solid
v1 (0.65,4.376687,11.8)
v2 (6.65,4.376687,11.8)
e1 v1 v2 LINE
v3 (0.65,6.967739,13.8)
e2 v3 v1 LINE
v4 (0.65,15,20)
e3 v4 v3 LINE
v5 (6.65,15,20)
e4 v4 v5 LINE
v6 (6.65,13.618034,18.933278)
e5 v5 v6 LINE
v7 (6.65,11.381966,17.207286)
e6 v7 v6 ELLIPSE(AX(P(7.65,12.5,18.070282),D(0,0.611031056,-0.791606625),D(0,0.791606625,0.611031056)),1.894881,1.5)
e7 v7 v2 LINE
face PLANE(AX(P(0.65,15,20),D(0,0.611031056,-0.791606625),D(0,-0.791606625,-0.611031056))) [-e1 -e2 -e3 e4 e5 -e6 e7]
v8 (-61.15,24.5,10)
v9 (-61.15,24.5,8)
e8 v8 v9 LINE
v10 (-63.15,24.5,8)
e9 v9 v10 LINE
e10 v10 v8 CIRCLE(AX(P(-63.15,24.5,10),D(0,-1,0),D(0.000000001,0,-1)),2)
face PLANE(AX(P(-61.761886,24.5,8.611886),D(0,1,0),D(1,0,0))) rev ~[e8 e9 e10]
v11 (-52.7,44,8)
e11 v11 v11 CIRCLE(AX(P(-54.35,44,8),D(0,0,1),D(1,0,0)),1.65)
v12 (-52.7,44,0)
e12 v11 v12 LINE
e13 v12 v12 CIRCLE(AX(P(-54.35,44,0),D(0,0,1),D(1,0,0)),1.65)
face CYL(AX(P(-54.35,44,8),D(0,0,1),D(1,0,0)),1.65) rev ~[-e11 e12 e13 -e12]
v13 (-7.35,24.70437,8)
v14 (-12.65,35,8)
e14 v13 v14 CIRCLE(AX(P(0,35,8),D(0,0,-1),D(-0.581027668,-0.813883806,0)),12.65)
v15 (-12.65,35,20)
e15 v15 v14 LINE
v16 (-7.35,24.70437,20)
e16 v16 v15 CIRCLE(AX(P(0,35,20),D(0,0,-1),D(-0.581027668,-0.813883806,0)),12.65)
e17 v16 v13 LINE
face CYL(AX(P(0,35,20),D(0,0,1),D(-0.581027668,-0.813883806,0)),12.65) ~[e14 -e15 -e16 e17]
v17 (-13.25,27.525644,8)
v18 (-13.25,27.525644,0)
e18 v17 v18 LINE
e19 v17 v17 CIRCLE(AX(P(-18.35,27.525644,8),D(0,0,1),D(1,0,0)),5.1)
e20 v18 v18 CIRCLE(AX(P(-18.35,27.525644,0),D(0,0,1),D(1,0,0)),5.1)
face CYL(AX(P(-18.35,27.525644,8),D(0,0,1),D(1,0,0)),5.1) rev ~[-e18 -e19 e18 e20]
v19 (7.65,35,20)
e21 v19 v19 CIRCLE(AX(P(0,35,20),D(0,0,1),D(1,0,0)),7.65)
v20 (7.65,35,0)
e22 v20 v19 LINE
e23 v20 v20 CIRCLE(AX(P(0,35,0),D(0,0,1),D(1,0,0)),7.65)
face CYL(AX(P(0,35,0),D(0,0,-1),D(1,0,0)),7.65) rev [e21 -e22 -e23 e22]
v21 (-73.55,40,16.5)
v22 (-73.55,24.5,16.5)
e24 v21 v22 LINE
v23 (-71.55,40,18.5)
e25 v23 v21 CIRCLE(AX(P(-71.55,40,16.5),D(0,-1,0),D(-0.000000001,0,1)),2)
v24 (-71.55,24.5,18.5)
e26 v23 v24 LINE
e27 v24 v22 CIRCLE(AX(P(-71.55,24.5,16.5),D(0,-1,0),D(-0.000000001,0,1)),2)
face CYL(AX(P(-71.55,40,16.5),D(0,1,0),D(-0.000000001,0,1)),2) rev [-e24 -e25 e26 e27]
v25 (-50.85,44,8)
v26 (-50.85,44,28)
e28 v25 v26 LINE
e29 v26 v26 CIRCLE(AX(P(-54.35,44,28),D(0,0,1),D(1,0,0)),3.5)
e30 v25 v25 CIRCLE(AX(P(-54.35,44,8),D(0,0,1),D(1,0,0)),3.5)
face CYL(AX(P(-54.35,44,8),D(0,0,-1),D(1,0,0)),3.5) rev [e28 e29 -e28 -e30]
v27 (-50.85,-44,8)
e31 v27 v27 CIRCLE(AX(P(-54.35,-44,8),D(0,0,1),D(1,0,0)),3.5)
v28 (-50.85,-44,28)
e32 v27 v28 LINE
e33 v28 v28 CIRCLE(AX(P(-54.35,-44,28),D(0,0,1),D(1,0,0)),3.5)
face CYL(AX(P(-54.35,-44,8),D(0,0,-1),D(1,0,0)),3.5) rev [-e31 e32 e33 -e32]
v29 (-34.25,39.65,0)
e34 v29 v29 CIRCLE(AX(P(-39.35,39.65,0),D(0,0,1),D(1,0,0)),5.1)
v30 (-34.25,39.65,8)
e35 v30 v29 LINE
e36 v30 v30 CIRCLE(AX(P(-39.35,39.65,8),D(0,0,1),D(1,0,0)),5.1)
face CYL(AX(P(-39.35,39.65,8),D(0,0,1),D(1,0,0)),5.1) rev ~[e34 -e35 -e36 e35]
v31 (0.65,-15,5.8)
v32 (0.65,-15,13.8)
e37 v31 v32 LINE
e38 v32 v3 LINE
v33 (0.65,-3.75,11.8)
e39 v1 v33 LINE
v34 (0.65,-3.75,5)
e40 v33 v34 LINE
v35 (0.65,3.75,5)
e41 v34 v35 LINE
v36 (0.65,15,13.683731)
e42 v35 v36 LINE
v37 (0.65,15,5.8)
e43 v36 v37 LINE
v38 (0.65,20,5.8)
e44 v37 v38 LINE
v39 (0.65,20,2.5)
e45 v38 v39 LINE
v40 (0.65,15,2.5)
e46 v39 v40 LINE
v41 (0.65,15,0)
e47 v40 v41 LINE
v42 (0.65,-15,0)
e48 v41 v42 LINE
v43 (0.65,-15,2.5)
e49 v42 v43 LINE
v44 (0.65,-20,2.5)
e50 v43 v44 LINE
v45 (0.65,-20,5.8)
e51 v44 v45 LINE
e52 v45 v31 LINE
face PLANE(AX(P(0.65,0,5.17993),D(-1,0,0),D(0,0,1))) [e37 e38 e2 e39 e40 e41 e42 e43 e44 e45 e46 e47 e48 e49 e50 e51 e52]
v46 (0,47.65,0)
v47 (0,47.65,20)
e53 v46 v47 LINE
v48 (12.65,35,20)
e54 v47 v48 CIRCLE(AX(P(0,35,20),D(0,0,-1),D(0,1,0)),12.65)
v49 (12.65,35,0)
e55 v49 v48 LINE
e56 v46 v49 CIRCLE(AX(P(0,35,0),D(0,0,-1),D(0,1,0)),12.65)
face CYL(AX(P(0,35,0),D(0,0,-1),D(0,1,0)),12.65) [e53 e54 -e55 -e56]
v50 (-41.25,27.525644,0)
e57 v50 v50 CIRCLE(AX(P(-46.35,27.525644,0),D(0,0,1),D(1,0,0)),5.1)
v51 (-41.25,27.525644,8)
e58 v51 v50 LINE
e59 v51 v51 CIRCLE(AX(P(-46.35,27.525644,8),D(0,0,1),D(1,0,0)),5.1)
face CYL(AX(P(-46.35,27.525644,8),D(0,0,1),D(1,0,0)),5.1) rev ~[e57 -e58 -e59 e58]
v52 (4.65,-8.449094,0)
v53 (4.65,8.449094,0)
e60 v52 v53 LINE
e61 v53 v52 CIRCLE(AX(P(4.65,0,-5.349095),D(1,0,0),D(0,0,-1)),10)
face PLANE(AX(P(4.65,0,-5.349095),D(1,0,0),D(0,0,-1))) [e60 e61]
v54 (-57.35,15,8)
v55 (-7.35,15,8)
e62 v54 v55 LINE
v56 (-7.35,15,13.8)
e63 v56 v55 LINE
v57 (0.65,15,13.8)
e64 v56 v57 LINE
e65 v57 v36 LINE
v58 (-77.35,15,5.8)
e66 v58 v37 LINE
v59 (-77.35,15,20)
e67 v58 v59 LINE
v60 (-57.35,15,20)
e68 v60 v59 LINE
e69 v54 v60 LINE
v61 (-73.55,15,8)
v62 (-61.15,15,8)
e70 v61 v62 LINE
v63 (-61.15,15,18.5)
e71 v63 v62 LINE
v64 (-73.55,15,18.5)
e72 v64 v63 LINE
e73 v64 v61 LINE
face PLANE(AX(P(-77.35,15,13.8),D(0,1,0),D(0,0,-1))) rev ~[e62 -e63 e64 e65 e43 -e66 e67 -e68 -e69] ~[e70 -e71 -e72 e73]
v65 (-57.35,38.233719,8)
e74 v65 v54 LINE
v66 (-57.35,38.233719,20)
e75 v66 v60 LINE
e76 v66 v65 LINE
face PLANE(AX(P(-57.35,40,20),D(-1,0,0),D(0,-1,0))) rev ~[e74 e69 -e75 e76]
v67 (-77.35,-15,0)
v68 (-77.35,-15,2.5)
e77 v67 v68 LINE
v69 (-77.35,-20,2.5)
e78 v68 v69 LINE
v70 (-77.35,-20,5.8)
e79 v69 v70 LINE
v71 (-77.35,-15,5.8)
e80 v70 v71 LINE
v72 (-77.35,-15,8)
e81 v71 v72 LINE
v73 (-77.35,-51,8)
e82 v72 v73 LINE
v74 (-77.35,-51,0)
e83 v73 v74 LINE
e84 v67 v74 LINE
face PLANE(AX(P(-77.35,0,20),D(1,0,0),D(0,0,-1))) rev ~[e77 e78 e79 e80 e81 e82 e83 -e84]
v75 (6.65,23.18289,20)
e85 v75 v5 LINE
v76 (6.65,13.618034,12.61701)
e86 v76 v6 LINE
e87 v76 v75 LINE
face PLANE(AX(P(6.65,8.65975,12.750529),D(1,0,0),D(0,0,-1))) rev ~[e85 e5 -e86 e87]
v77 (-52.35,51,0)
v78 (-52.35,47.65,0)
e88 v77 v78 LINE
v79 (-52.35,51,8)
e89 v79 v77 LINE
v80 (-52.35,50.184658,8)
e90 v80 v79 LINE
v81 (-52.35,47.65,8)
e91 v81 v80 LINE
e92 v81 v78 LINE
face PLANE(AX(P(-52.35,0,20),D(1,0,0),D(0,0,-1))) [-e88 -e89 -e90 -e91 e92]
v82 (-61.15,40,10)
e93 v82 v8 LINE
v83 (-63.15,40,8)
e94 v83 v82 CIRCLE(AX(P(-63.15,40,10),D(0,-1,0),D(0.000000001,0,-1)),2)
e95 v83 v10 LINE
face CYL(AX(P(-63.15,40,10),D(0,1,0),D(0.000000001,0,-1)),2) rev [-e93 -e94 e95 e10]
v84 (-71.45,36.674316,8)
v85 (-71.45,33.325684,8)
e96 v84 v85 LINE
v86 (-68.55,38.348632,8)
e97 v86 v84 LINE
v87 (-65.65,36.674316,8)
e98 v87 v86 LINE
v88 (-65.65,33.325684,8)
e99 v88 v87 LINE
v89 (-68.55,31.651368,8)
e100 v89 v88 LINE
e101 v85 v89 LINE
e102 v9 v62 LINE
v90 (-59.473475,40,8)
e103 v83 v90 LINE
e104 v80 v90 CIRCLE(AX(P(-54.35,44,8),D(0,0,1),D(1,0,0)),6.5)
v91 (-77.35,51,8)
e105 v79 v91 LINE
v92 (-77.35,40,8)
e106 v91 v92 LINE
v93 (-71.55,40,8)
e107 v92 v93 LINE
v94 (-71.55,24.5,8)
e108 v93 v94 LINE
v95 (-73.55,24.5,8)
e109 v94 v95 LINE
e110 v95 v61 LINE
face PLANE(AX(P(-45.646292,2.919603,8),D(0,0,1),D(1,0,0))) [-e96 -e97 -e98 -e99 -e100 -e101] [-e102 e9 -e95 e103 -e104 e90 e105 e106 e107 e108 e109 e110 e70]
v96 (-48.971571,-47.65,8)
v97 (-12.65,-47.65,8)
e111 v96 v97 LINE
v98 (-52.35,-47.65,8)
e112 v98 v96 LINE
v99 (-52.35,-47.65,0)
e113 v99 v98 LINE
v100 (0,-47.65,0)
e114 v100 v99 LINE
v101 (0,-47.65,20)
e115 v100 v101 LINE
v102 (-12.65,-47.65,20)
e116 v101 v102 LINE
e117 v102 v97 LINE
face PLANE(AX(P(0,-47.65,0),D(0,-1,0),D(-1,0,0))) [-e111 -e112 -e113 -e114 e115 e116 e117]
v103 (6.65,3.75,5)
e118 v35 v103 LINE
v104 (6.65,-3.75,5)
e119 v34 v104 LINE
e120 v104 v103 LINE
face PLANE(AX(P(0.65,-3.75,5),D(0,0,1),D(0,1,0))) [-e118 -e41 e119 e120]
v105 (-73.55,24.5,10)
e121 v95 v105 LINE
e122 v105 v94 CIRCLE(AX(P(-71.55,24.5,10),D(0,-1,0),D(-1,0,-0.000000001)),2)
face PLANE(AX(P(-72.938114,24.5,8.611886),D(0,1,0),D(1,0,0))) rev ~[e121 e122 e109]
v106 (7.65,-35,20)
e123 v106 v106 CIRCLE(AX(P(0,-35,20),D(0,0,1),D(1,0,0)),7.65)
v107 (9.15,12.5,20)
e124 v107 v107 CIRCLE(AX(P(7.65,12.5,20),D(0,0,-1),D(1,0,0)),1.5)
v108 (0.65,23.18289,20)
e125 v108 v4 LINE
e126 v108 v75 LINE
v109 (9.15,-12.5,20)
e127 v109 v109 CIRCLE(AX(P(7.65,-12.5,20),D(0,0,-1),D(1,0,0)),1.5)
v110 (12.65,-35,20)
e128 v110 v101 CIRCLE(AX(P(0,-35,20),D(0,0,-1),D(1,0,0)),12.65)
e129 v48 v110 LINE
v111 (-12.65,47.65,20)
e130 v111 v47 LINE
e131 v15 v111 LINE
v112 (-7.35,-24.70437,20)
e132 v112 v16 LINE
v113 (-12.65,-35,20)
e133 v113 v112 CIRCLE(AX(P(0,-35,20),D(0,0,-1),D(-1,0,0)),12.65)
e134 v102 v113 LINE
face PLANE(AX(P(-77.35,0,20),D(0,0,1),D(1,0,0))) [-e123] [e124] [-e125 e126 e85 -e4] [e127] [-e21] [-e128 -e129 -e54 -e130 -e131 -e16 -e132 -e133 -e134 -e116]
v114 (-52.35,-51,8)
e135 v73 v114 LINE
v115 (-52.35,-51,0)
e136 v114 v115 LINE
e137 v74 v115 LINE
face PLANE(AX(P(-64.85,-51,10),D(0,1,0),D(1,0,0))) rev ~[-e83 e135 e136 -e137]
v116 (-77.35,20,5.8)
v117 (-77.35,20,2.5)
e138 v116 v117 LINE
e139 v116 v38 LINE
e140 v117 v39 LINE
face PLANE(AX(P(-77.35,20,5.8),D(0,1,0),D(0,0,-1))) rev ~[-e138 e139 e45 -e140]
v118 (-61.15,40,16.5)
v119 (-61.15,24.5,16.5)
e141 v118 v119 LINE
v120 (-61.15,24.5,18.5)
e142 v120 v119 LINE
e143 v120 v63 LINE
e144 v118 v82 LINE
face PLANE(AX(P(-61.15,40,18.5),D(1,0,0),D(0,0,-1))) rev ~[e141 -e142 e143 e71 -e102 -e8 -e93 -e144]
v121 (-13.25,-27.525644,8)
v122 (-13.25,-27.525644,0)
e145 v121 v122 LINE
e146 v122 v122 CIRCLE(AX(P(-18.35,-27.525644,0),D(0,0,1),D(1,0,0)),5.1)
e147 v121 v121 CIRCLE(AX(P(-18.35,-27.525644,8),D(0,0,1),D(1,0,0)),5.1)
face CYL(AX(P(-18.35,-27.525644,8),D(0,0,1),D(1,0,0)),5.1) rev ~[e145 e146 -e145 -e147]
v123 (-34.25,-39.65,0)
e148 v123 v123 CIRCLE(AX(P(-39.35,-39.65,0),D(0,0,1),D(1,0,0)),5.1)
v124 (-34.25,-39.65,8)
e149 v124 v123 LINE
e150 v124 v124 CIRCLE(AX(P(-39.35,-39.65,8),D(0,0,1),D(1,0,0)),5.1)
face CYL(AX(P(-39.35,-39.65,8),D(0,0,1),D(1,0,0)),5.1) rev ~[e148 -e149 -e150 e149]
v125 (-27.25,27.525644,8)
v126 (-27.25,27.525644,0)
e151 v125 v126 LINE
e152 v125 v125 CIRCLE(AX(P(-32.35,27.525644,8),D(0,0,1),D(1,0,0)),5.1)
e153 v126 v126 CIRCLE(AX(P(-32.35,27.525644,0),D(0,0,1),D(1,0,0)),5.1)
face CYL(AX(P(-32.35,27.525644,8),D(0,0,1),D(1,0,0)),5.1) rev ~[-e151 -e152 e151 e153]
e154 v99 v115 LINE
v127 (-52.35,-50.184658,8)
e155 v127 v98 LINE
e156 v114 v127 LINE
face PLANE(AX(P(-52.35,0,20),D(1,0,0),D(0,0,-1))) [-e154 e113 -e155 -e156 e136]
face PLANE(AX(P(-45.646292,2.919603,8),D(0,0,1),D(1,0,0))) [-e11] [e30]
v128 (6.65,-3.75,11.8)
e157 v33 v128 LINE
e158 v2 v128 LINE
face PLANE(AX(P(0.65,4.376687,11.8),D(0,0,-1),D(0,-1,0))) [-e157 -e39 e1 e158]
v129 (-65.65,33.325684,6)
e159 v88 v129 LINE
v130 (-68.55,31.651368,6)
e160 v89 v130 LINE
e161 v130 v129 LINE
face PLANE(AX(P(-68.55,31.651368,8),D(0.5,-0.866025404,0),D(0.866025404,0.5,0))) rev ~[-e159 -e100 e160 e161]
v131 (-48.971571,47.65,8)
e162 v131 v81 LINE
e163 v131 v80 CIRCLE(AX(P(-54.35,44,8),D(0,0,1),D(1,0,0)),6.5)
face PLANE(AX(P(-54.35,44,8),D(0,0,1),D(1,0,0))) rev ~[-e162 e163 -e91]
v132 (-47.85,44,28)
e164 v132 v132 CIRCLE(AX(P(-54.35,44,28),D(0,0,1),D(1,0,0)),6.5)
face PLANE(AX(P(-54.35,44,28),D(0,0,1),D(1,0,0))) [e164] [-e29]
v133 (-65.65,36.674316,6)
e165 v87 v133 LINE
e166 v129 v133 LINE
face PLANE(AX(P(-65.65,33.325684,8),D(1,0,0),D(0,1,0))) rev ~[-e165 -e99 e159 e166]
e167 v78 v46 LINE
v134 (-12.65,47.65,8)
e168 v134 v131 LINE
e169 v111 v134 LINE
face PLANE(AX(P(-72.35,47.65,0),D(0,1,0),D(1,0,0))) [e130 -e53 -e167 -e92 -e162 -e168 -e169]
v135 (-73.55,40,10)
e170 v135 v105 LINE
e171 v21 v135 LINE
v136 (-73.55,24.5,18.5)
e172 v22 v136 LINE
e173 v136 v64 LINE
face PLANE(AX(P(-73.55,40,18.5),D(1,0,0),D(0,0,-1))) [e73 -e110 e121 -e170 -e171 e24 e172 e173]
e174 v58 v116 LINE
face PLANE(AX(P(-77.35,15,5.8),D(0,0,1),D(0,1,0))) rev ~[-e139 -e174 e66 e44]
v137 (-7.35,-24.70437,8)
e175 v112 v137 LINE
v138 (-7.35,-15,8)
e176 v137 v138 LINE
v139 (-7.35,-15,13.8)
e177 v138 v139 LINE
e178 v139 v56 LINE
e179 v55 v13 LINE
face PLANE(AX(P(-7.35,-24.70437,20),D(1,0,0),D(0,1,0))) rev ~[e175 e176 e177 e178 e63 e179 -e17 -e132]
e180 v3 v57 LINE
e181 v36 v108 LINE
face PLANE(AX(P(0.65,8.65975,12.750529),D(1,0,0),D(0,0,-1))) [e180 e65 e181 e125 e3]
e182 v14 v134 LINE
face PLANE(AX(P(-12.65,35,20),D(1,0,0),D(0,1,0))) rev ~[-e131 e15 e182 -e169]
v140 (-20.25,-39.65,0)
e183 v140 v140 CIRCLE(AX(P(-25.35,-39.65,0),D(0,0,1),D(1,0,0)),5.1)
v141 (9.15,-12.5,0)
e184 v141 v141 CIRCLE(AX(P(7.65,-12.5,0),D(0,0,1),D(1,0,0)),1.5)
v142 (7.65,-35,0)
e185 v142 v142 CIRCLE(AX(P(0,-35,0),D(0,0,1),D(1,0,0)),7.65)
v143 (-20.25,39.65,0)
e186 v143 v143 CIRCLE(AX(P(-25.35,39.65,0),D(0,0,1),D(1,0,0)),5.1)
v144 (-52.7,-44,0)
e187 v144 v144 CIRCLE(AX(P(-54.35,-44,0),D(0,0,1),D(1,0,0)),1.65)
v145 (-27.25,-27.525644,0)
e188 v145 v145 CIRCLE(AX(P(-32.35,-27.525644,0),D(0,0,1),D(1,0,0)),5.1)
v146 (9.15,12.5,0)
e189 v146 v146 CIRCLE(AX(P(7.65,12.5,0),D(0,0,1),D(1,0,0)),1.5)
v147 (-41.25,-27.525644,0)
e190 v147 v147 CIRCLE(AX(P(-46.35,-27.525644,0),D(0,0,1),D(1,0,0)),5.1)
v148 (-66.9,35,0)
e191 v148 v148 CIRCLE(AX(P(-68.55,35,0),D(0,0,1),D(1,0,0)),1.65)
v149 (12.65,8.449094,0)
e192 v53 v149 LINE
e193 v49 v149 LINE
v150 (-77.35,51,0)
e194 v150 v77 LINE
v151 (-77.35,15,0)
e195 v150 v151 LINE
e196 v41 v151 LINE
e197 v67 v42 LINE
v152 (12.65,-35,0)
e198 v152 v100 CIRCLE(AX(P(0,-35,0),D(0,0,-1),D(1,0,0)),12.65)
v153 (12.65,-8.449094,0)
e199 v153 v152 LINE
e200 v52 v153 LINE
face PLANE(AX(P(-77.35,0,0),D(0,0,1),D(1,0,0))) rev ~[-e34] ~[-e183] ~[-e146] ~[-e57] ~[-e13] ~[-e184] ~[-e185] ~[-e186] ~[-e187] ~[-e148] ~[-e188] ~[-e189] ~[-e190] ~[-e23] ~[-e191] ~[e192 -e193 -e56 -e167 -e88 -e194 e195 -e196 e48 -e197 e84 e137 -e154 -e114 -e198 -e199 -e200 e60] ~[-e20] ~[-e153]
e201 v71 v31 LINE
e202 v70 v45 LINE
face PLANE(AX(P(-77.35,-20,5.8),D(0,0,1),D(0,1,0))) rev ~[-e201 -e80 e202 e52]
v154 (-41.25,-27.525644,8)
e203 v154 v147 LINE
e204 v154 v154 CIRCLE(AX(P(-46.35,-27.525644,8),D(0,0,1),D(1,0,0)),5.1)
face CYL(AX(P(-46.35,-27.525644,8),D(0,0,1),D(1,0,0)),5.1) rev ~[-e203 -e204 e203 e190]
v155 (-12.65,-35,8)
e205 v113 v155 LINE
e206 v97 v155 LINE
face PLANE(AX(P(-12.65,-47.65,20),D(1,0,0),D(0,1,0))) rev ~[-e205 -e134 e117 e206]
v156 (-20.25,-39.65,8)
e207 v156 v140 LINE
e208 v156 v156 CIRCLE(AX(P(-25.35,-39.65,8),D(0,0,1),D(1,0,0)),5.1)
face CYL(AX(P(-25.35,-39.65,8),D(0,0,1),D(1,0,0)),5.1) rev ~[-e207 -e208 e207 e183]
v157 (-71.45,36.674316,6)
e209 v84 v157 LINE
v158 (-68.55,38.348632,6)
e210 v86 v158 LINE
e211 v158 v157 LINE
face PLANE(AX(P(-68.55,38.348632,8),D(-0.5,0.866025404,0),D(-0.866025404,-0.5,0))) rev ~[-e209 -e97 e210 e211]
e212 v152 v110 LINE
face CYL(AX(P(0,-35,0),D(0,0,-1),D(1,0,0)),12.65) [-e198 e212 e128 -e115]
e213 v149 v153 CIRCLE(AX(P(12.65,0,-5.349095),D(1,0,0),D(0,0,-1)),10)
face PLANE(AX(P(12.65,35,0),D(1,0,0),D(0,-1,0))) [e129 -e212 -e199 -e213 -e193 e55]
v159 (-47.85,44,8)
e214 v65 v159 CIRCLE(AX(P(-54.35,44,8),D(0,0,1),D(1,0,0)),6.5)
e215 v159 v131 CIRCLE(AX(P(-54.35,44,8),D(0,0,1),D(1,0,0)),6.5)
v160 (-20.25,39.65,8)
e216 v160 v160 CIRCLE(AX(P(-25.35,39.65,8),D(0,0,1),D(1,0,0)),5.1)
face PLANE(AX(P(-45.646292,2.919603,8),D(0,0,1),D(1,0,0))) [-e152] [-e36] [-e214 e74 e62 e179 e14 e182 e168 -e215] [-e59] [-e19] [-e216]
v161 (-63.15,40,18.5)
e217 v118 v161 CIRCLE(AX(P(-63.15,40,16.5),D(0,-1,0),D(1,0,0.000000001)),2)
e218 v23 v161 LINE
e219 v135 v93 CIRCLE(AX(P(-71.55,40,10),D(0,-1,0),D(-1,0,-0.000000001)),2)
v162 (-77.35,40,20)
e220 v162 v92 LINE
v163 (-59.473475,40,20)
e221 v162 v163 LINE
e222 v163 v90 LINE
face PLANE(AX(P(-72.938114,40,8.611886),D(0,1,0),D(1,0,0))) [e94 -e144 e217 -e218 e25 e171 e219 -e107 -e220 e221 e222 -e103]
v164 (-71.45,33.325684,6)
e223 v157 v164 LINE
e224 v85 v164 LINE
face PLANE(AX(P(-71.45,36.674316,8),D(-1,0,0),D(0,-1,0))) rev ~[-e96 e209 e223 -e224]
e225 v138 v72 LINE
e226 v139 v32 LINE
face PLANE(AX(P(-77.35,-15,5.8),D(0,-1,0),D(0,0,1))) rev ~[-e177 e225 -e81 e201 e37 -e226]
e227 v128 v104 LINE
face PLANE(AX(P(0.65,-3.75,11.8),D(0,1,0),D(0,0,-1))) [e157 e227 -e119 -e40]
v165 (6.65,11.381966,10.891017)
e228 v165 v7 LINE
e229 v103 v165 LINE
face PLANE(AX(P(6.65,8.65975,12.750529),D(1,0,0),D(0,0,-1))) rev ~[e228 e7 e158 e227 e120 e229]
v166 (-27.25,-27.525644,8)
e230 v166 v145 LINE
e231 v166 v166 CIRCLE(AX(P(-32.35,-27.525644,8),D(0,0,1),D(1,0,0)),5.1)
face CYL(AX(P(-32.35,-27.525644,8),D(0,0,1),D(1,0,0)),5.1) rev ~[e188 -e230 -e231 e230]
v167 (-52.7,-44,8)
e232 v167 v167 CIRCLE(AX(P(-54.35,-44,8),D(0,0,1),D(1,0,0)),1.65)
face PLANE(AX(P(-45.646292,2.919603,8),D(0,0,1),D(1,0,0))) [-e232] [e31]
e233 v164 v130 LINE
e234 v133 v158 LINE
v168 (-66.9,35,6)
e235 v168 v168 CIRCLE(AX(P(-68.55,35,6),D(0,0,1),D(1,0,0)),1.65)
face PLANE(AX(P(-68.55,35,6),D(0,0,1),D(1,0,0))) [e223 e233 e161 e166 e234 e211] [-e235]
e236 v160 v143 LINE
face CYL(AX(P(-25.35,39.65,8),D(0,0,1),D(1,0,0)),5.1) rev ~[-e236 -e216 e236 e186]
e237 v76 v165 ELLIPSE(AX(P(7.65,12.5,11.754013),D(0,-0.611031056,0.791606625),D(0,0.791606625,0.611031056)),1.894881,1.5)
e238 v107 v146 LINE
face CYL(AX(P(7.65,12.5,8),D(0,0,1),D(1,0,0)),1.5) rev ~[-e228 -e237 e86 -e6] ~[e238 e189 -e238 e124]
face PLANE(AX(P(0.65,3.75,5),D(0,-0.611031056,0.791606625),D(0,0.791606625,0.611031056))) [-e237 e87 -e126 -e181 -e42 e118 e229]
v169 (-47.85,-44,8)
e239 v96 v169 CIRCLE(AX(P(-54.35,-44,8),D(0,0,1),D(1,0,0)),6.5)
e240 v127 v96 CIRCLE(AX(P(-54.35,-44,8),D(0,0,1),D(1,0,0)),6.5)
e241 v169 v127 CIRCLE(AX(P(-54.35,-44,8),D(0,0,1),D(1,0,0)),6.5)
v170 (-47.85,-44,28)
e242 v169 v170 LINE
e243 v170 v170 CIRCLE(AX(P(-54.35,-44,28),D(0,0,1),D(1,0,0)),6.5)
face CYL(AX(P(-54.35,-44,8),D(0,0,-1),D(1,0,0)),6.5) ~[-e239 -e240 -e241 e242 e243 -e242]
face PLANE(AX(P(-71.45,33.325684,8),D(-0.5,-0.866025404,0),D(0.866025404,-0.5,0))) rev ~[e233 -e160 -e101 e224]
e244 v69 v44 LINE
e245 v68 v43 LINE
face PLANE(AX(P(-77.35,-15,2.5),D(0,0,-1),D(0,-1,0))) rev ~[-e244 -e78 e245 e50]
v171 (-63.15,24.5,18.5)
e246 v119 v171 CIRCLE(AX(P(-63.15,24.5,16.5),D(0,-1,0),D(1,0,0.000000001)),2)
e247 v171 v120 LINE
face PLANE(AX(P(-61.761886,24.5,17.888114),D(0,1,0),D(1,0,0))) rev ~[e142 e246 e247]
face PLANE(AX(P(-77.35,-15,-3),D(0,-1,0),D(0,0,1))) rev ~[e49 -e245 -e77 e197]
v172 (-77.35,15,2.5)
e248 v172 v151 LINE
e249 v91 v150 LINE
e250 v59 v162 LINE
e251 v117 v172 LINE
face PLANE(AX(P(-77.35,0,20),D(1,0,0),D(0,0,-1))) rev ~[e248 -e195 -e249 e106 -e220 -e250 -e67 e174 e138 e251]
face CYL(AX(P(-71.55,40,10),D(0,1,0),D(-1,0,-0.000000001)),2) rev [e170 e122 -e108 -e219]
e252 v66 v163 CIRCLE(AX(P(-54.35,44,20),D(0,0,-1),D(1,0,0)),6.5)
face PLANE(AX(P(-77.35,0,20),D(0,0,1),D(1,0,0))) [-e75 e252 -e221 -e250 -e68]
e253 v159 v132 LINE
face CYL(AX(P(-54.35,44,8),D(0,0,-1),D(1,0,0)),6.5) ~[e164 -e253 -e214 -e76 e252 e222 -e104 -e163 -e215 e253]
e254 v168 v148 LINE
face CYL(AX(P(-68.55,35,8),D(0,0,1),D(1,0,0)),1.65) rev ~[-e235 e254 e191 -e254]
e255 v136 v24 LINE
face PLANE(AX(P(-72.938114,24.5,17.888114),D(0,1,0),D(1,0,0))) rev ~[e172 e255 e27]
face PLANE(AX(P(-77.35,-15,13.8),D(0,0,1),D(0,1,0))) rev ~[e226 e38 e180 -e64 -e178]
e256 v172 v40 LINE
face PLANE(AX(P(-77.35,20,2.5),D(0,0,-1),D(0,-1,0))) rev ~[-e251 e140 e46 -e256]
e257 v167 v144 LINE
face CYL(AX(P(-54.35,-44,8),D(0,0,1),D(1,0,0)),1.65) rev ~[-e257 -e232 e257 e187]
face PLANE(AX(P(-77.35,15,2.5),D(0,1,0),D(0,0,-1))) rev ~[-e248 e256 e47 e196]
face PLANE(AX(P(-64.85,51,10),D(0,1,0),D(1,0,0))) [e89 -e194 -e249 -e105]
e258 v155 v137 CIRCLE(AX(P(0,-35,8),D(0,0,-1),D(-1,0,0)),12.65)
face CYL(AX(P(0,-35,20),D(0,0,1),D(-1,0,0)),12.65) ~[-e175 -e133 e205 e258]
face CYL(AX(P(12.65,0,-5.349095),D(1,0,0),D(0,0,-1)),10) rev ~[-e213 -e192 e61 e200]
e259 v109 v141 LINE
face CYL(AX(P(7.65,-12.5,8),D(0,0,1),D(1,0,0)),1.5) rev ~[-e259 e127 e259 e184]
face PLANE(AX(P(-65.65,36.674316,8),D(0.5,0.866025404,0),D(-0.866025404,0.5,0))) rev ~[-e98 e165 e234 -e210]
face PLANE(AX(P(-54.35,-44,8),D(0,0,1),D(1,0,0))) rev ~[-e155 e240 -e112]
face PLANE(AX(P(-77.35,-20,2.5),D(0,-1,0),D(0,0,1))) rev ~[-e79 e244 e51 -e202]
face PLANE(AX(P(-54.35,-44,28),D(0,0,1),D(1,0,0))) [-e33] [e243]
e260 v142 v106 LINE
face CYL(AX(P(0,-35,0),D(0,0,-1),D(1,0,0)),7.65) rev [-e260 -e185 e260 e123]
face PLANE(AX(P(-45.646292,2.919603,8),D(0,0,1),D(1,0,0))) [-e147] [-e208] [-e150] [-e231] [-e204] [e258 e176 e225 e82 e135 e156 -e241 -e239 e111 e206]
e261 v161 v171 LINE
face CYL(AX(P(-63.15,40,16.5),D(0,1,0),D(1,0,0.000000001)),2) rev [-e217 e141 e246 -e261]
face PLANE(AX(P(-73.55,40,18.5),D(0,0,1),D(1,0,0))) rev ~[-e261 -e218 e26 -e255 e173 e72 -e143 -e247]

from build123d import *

# Parameters (mm, degrees)
ESBO_O1_R                  = 7.65
RESSALTO_EXTRUS_O1_DEPTH   = 20
ESBO_O2_W                  = 25
ESBO_O2_H                  = 20
RESSALTO_EXTRUS_O2_DEPTH   = 51
CORTE_EXTRUS_O1_DEPTH      = 78
CORTE_EXTRUS_O4_DEPTH      = 12
ESBO_O6_R                  = 1.5
CORTE_EXTRUS_O6_DEPTH      = 13
CORTE_EXTRUS_O6_DEPTH_BACK = 9
ESBO_O7_R                  = 10
CORTE_EXTRUS_O7_DEPTH      = 8
ESBO_O9_W                  = 12.4
ESBO_O9_H                  = 10.5
CORTE_EXTRUS_O8_DEPTH      = 25
RESSALTO_EXTRUS_O3_DEPTH   = 15.5
ESBO_O12_R                 = 1.65
CORTE_EXTRUS_O9_DEPTH      = 10
CORTE_EXTRUS_O11_DEPTH     = 2
ESBO_O16_R                 = 6.5
ESBO_O16_R_2               = 3.5
RESSALTO_EXTRUS_O4_DEPTH   = 20
CORTE_EXTRUS_O13_DEPTH     = 6
ESBO_O18_R                 = 5.1
CORTE_EXTRUS_O14_DEPTH     = 10


with BuildPart() as part:
    # Esboço1 → Ressalto-extrusão1 (new body)
    with BuildSketch(Plane.XY):
        with BuildLine():
            Line((12.65, 35), (12.65, -35))
            ThreePointArc((12.65, -35), (8.944900782, -43.944900782), (0, -47.65))
            Line((0, -47.65), (-72.35, -47.65))
            Line((-72.35, -47.65), (-72.35, 47.65))
            Line((-72.35, 47.65), (0, 47.65))
            ThreePointArc((0, 47.65), (8.944900782, 43.944900782), (12.65, 35))
        make_face()
        with Locations((0, 35)):
            Circle(ESBO_O1_R, mode=Mode.SUBTRACT)
        with Locations((0, -35)):
            Circle(ESBO_O1_R, mode=Mode.SUBTRACT)
    extrude(amount=RESSALTO_EXTRUS_O1_DEPTH)

    # Esboço2 → Ressalto-extrusão2 (add, symmetric)
    with BuildSketch(Plane(origin=(0, 0, 0), x_dir=(1, 0, 0), z_dir=(0, 1, 0))):
        with Locations((-64.85, -10)):
            Rectangle(ESBO_O2_W, ESBO_O2_H)
    extrude(amount=RESSALTO_EXTRUS_O2_DEPTH, both=True)

    # Esboço3 → Corte-extrusão1 (cut)
    with BuildSketch(Plane.ZY.offset(77.35)):
        Polygon((13.8, 15), (5.8, 15), (5.8, 20), (2.5, 20), (2.5, 15), (-3, 15), (-3, -15), (2.5, -15), (2.5, -20), (5.8, -20), (5.8, -15), (13.8, -15), align=None)
    extrude(amount=-CORTE_EXTRUS_O1_DEPTH, mode=Mode.SUBTRACT)

    # Esboço4 → Corte-extrusão4 (cut)
    with BuildSketch(Plane.XY.offset(20)):
        with BuildLine():
            Line((-77.35, 40), (-57.35, 40))
            Line((-57.35, 40), (-57.35, 15))
            Line((-57.35, 15), (-77.35, 15))
            Line((-77.35, 15), (-77.35, -51))
            Line((-77.35, -51), (-52.35, -51))
            Line((-52.35, -51), (-52.35, -47.65))
            Line((-52.35, -47.65), (-12.65, -47.65))
            Line((-12.65, -47.65), (-12.65, -35))
            ThreePointArc((-12.65, -35), (-11.247221879, -29.210138171), (-7.35, -24.704369859))
            Line((-7.35, -24.704369859), (-7.35, -0.323389166))
            Line((-7.35, -0.323389166), (-7.35, 24.704369859))
            ThreePointArc((-7.35, 24.704369859), (-11.247221879, 29.210138171), (-12.65, 35))
            Line((-12.65, 35), (-12.65, 47.65))
            Line((-12.65, 47.65), (-52.35, 47.65))
            Line((-52.35, 47.65), (-52.35, 51))
            Line((-52.35, 51), (-77.35, 51))
            Line((-77.35, 51), (-77.35, 40))
        make_face()
    extrude(amount=-CORTE_EXTRUS_O4_DEPTH, mode=Mode.SUBTRACT)

    # Esboço6 → Corte-extrusão6 (cut, two sides)
    with BuildSketch(Plane.XY.offset(8)) as corte_extrus_o6_sk:
        with Locations((7.65, 12.5)):
            Circle(ESBO_O6_R)
        with Locations((7.65, -12.5)):
            Circle(ESBO_O6_R)
    extrude(amount=CORTE_EXTRUS_O6_DEPTH, mode=Mode.SUBTRACT)
    extrude(corte_extrus_o6_sk.sketch, amount=-CORTE_EXTRUS_O6_DEPTH_BACK, mode=Mode.SUBTRACT)

    # Esboço7 → Corte-extrusão7 (cut)
    with BuildSketch(Plane(origin=(12.65, 0, 0), x_dir=(0, 0, -1), z_dir=(1, 0, 0))):
        with Locations((5.349094788, 0)):
            Circle(ESBO_O7_R)
    extrude(amount=-CORTE_EXTRUS_O7_DEPTH, mode=Mode.SUBTRACT)

    # Esboço9 → Corte-extrusão8 (cut)
    with BuildSketch(Plane(origin=(0, 40, 0), x_dir=(1, 0, 0), z_dir=(0, 1, 0))):
        with Locations((-67.35, -13.25)):
            Rectangle(ESBO_O9_W, ESBO_O9_H)
    extrude(amount=-CORTE_EXTRUS_O8_DEPTH, mode=Mode.SUBTRACT)

    # Esboço10 → Ressalto-extrusão3 (add)
    with BuildSketch(Plane(origin=(0, 40, 0), x_dir=(1, 0, 0), z_dir=(0, 1, 0))):
        with BuildLine():
            Line((-71.55, -8), (-73.55, -8))
            Line((-73.55, -8), (-73.55, -10))
            ThreePointArc((-73.55, -10), (-72.964213562, -8.585786438), (-71.55, -8))
        make_face()
        with BuildLine():
            Line((-61.15, -8), (-63.15, -8))
            ThreePointArc((-63.15, -8), (-61.735786438, -8.585786438), (-61.15, -10))
            Line((-61.15, -10), (-61.15, -8))
        make_face()
        with BuildLine():
            ThreePointArc((-71.55, -18.5), (-72.964213562, -17.914213562), (-73.55, -16.5))
            Line((-73.55, -16.5), (-73.55, -18.5))
            Line((-73.55, -18.5), (-71.55, -18.5))
        make_face()
        with BuildLine():
            Line((-61.15, -18.5), (-61.15, -16.5))
            ThreePointArc((-61.15, -16.5), (-61.735786438, -17.914213562), (-63.15, -18.5))
            Line((-63.15, -18.5), (-61.15, -18.5))
        make_face()
    extrude(amount=-RESSALTO_EXTRUS_O3_DEPTH)

    # Esboço12 → Corte-extrusão9 (cut)
    with BuildSketch(Plane.XY.offset(8)):
        with Locations((-54.35, -44)):
            Circle(ESBO_O12_R)
        with Locations((-54.35, 44)):
            Circle(ESBO_O12_R)
        with Locations((-68.55, 35)):
            Circle(ESBO_O12_R)
    extrude(amount=-CORTE_EXTRUS_O9_DEPTH, mode=Mode.SUBTRACT)

    # Esboço14 → Corte-extrusão11 (cut)
    with BuildSketch(Plane.XY.offset(8)):
        Polygon((-71.45, 36.674315781), (-71.45, 33.325684219), (-68.55, 31.651368439), (-65.65, 33.325684219), (-65.65, 36.674315781), (-68.55, 38.348631561), align=None)
    extrude(amount=-CORTE_EXTRUS_O11_DEPTH, mode=Mode.SUBTRACT)

    # Esboço16 → Ressalto-extrusão4 (add)
    with BuildSketch(Plane.XY.offset(8)):
        with Locations((-54.35, 44)):
            Circle(ESBO_O16_R)
        with Locations((-54.35, 44)):
            Circle(ESBO_O16_R_2, mode=Mode.SUBTRACT)
        with Locations((-54.35, -44)):
            Circle(ESBO_O16_R)
        with Locations((-54.35, -44)):
            Circle(ESBO_O16_R_2, mode=Mode.SUBTRACT)
    extrude(amount=RESSALTO_EXTRUS_O4_DEPTH)

    # Esboço17 → Corte-extrusão13 (cut)
    with BuildSketch(Plane.ZY.offset(-0.65)):
        Polygon((11.8, 4.376686724), (11.8, -3.75), (5, -3.75), (5, 3.75), (20, 23.182890138), (20, 15), align=None)
    extrude(amount=-CORTE_EXTRUS_O13_DEPTH, mode=Mode.SUBTRACT)

    # Esboço18 → Corte-extrusão14 (cut)
    with BuildSketch(Plane.XY.offset(8)):
        with Locations((-39.35, -39.65)):
            Circle(ESBO_O18_R)
        with Locations((-32.35, -27.525644347)):
            Circle(ESBO_O18_R)
        with Locations((-46.35, -27.525644347)):
            Circle(ESBO_O18_R)
        with Locations((-25.35, -39.65)):
            Circle(ESBO_O18_R)
        with Locations((-18.35, -27.525644347)):
            Circle(ESBO_O18_R)
        with Locations((-18.35, 27.525644347)):
            Circle(ESBO_O18_R)
        with Locations((-25.35, 39.65)):
            Circle(ESBO_O18_R)
        with Locations((-46.35, 27.525644347)):
            Circle(ESBO_O18_R)
        with Locations((-32.35, 27.525644347)):
            Circle(ESBO_O18_R)
        with Locations((-39.35, 39.65)):
            Circle(ESBO_O18_R)
    extrude(amount=-CORTE_EXTRUS_O14_DEPTH, mode=Mode.SUBTRACT)


solid = part.part
